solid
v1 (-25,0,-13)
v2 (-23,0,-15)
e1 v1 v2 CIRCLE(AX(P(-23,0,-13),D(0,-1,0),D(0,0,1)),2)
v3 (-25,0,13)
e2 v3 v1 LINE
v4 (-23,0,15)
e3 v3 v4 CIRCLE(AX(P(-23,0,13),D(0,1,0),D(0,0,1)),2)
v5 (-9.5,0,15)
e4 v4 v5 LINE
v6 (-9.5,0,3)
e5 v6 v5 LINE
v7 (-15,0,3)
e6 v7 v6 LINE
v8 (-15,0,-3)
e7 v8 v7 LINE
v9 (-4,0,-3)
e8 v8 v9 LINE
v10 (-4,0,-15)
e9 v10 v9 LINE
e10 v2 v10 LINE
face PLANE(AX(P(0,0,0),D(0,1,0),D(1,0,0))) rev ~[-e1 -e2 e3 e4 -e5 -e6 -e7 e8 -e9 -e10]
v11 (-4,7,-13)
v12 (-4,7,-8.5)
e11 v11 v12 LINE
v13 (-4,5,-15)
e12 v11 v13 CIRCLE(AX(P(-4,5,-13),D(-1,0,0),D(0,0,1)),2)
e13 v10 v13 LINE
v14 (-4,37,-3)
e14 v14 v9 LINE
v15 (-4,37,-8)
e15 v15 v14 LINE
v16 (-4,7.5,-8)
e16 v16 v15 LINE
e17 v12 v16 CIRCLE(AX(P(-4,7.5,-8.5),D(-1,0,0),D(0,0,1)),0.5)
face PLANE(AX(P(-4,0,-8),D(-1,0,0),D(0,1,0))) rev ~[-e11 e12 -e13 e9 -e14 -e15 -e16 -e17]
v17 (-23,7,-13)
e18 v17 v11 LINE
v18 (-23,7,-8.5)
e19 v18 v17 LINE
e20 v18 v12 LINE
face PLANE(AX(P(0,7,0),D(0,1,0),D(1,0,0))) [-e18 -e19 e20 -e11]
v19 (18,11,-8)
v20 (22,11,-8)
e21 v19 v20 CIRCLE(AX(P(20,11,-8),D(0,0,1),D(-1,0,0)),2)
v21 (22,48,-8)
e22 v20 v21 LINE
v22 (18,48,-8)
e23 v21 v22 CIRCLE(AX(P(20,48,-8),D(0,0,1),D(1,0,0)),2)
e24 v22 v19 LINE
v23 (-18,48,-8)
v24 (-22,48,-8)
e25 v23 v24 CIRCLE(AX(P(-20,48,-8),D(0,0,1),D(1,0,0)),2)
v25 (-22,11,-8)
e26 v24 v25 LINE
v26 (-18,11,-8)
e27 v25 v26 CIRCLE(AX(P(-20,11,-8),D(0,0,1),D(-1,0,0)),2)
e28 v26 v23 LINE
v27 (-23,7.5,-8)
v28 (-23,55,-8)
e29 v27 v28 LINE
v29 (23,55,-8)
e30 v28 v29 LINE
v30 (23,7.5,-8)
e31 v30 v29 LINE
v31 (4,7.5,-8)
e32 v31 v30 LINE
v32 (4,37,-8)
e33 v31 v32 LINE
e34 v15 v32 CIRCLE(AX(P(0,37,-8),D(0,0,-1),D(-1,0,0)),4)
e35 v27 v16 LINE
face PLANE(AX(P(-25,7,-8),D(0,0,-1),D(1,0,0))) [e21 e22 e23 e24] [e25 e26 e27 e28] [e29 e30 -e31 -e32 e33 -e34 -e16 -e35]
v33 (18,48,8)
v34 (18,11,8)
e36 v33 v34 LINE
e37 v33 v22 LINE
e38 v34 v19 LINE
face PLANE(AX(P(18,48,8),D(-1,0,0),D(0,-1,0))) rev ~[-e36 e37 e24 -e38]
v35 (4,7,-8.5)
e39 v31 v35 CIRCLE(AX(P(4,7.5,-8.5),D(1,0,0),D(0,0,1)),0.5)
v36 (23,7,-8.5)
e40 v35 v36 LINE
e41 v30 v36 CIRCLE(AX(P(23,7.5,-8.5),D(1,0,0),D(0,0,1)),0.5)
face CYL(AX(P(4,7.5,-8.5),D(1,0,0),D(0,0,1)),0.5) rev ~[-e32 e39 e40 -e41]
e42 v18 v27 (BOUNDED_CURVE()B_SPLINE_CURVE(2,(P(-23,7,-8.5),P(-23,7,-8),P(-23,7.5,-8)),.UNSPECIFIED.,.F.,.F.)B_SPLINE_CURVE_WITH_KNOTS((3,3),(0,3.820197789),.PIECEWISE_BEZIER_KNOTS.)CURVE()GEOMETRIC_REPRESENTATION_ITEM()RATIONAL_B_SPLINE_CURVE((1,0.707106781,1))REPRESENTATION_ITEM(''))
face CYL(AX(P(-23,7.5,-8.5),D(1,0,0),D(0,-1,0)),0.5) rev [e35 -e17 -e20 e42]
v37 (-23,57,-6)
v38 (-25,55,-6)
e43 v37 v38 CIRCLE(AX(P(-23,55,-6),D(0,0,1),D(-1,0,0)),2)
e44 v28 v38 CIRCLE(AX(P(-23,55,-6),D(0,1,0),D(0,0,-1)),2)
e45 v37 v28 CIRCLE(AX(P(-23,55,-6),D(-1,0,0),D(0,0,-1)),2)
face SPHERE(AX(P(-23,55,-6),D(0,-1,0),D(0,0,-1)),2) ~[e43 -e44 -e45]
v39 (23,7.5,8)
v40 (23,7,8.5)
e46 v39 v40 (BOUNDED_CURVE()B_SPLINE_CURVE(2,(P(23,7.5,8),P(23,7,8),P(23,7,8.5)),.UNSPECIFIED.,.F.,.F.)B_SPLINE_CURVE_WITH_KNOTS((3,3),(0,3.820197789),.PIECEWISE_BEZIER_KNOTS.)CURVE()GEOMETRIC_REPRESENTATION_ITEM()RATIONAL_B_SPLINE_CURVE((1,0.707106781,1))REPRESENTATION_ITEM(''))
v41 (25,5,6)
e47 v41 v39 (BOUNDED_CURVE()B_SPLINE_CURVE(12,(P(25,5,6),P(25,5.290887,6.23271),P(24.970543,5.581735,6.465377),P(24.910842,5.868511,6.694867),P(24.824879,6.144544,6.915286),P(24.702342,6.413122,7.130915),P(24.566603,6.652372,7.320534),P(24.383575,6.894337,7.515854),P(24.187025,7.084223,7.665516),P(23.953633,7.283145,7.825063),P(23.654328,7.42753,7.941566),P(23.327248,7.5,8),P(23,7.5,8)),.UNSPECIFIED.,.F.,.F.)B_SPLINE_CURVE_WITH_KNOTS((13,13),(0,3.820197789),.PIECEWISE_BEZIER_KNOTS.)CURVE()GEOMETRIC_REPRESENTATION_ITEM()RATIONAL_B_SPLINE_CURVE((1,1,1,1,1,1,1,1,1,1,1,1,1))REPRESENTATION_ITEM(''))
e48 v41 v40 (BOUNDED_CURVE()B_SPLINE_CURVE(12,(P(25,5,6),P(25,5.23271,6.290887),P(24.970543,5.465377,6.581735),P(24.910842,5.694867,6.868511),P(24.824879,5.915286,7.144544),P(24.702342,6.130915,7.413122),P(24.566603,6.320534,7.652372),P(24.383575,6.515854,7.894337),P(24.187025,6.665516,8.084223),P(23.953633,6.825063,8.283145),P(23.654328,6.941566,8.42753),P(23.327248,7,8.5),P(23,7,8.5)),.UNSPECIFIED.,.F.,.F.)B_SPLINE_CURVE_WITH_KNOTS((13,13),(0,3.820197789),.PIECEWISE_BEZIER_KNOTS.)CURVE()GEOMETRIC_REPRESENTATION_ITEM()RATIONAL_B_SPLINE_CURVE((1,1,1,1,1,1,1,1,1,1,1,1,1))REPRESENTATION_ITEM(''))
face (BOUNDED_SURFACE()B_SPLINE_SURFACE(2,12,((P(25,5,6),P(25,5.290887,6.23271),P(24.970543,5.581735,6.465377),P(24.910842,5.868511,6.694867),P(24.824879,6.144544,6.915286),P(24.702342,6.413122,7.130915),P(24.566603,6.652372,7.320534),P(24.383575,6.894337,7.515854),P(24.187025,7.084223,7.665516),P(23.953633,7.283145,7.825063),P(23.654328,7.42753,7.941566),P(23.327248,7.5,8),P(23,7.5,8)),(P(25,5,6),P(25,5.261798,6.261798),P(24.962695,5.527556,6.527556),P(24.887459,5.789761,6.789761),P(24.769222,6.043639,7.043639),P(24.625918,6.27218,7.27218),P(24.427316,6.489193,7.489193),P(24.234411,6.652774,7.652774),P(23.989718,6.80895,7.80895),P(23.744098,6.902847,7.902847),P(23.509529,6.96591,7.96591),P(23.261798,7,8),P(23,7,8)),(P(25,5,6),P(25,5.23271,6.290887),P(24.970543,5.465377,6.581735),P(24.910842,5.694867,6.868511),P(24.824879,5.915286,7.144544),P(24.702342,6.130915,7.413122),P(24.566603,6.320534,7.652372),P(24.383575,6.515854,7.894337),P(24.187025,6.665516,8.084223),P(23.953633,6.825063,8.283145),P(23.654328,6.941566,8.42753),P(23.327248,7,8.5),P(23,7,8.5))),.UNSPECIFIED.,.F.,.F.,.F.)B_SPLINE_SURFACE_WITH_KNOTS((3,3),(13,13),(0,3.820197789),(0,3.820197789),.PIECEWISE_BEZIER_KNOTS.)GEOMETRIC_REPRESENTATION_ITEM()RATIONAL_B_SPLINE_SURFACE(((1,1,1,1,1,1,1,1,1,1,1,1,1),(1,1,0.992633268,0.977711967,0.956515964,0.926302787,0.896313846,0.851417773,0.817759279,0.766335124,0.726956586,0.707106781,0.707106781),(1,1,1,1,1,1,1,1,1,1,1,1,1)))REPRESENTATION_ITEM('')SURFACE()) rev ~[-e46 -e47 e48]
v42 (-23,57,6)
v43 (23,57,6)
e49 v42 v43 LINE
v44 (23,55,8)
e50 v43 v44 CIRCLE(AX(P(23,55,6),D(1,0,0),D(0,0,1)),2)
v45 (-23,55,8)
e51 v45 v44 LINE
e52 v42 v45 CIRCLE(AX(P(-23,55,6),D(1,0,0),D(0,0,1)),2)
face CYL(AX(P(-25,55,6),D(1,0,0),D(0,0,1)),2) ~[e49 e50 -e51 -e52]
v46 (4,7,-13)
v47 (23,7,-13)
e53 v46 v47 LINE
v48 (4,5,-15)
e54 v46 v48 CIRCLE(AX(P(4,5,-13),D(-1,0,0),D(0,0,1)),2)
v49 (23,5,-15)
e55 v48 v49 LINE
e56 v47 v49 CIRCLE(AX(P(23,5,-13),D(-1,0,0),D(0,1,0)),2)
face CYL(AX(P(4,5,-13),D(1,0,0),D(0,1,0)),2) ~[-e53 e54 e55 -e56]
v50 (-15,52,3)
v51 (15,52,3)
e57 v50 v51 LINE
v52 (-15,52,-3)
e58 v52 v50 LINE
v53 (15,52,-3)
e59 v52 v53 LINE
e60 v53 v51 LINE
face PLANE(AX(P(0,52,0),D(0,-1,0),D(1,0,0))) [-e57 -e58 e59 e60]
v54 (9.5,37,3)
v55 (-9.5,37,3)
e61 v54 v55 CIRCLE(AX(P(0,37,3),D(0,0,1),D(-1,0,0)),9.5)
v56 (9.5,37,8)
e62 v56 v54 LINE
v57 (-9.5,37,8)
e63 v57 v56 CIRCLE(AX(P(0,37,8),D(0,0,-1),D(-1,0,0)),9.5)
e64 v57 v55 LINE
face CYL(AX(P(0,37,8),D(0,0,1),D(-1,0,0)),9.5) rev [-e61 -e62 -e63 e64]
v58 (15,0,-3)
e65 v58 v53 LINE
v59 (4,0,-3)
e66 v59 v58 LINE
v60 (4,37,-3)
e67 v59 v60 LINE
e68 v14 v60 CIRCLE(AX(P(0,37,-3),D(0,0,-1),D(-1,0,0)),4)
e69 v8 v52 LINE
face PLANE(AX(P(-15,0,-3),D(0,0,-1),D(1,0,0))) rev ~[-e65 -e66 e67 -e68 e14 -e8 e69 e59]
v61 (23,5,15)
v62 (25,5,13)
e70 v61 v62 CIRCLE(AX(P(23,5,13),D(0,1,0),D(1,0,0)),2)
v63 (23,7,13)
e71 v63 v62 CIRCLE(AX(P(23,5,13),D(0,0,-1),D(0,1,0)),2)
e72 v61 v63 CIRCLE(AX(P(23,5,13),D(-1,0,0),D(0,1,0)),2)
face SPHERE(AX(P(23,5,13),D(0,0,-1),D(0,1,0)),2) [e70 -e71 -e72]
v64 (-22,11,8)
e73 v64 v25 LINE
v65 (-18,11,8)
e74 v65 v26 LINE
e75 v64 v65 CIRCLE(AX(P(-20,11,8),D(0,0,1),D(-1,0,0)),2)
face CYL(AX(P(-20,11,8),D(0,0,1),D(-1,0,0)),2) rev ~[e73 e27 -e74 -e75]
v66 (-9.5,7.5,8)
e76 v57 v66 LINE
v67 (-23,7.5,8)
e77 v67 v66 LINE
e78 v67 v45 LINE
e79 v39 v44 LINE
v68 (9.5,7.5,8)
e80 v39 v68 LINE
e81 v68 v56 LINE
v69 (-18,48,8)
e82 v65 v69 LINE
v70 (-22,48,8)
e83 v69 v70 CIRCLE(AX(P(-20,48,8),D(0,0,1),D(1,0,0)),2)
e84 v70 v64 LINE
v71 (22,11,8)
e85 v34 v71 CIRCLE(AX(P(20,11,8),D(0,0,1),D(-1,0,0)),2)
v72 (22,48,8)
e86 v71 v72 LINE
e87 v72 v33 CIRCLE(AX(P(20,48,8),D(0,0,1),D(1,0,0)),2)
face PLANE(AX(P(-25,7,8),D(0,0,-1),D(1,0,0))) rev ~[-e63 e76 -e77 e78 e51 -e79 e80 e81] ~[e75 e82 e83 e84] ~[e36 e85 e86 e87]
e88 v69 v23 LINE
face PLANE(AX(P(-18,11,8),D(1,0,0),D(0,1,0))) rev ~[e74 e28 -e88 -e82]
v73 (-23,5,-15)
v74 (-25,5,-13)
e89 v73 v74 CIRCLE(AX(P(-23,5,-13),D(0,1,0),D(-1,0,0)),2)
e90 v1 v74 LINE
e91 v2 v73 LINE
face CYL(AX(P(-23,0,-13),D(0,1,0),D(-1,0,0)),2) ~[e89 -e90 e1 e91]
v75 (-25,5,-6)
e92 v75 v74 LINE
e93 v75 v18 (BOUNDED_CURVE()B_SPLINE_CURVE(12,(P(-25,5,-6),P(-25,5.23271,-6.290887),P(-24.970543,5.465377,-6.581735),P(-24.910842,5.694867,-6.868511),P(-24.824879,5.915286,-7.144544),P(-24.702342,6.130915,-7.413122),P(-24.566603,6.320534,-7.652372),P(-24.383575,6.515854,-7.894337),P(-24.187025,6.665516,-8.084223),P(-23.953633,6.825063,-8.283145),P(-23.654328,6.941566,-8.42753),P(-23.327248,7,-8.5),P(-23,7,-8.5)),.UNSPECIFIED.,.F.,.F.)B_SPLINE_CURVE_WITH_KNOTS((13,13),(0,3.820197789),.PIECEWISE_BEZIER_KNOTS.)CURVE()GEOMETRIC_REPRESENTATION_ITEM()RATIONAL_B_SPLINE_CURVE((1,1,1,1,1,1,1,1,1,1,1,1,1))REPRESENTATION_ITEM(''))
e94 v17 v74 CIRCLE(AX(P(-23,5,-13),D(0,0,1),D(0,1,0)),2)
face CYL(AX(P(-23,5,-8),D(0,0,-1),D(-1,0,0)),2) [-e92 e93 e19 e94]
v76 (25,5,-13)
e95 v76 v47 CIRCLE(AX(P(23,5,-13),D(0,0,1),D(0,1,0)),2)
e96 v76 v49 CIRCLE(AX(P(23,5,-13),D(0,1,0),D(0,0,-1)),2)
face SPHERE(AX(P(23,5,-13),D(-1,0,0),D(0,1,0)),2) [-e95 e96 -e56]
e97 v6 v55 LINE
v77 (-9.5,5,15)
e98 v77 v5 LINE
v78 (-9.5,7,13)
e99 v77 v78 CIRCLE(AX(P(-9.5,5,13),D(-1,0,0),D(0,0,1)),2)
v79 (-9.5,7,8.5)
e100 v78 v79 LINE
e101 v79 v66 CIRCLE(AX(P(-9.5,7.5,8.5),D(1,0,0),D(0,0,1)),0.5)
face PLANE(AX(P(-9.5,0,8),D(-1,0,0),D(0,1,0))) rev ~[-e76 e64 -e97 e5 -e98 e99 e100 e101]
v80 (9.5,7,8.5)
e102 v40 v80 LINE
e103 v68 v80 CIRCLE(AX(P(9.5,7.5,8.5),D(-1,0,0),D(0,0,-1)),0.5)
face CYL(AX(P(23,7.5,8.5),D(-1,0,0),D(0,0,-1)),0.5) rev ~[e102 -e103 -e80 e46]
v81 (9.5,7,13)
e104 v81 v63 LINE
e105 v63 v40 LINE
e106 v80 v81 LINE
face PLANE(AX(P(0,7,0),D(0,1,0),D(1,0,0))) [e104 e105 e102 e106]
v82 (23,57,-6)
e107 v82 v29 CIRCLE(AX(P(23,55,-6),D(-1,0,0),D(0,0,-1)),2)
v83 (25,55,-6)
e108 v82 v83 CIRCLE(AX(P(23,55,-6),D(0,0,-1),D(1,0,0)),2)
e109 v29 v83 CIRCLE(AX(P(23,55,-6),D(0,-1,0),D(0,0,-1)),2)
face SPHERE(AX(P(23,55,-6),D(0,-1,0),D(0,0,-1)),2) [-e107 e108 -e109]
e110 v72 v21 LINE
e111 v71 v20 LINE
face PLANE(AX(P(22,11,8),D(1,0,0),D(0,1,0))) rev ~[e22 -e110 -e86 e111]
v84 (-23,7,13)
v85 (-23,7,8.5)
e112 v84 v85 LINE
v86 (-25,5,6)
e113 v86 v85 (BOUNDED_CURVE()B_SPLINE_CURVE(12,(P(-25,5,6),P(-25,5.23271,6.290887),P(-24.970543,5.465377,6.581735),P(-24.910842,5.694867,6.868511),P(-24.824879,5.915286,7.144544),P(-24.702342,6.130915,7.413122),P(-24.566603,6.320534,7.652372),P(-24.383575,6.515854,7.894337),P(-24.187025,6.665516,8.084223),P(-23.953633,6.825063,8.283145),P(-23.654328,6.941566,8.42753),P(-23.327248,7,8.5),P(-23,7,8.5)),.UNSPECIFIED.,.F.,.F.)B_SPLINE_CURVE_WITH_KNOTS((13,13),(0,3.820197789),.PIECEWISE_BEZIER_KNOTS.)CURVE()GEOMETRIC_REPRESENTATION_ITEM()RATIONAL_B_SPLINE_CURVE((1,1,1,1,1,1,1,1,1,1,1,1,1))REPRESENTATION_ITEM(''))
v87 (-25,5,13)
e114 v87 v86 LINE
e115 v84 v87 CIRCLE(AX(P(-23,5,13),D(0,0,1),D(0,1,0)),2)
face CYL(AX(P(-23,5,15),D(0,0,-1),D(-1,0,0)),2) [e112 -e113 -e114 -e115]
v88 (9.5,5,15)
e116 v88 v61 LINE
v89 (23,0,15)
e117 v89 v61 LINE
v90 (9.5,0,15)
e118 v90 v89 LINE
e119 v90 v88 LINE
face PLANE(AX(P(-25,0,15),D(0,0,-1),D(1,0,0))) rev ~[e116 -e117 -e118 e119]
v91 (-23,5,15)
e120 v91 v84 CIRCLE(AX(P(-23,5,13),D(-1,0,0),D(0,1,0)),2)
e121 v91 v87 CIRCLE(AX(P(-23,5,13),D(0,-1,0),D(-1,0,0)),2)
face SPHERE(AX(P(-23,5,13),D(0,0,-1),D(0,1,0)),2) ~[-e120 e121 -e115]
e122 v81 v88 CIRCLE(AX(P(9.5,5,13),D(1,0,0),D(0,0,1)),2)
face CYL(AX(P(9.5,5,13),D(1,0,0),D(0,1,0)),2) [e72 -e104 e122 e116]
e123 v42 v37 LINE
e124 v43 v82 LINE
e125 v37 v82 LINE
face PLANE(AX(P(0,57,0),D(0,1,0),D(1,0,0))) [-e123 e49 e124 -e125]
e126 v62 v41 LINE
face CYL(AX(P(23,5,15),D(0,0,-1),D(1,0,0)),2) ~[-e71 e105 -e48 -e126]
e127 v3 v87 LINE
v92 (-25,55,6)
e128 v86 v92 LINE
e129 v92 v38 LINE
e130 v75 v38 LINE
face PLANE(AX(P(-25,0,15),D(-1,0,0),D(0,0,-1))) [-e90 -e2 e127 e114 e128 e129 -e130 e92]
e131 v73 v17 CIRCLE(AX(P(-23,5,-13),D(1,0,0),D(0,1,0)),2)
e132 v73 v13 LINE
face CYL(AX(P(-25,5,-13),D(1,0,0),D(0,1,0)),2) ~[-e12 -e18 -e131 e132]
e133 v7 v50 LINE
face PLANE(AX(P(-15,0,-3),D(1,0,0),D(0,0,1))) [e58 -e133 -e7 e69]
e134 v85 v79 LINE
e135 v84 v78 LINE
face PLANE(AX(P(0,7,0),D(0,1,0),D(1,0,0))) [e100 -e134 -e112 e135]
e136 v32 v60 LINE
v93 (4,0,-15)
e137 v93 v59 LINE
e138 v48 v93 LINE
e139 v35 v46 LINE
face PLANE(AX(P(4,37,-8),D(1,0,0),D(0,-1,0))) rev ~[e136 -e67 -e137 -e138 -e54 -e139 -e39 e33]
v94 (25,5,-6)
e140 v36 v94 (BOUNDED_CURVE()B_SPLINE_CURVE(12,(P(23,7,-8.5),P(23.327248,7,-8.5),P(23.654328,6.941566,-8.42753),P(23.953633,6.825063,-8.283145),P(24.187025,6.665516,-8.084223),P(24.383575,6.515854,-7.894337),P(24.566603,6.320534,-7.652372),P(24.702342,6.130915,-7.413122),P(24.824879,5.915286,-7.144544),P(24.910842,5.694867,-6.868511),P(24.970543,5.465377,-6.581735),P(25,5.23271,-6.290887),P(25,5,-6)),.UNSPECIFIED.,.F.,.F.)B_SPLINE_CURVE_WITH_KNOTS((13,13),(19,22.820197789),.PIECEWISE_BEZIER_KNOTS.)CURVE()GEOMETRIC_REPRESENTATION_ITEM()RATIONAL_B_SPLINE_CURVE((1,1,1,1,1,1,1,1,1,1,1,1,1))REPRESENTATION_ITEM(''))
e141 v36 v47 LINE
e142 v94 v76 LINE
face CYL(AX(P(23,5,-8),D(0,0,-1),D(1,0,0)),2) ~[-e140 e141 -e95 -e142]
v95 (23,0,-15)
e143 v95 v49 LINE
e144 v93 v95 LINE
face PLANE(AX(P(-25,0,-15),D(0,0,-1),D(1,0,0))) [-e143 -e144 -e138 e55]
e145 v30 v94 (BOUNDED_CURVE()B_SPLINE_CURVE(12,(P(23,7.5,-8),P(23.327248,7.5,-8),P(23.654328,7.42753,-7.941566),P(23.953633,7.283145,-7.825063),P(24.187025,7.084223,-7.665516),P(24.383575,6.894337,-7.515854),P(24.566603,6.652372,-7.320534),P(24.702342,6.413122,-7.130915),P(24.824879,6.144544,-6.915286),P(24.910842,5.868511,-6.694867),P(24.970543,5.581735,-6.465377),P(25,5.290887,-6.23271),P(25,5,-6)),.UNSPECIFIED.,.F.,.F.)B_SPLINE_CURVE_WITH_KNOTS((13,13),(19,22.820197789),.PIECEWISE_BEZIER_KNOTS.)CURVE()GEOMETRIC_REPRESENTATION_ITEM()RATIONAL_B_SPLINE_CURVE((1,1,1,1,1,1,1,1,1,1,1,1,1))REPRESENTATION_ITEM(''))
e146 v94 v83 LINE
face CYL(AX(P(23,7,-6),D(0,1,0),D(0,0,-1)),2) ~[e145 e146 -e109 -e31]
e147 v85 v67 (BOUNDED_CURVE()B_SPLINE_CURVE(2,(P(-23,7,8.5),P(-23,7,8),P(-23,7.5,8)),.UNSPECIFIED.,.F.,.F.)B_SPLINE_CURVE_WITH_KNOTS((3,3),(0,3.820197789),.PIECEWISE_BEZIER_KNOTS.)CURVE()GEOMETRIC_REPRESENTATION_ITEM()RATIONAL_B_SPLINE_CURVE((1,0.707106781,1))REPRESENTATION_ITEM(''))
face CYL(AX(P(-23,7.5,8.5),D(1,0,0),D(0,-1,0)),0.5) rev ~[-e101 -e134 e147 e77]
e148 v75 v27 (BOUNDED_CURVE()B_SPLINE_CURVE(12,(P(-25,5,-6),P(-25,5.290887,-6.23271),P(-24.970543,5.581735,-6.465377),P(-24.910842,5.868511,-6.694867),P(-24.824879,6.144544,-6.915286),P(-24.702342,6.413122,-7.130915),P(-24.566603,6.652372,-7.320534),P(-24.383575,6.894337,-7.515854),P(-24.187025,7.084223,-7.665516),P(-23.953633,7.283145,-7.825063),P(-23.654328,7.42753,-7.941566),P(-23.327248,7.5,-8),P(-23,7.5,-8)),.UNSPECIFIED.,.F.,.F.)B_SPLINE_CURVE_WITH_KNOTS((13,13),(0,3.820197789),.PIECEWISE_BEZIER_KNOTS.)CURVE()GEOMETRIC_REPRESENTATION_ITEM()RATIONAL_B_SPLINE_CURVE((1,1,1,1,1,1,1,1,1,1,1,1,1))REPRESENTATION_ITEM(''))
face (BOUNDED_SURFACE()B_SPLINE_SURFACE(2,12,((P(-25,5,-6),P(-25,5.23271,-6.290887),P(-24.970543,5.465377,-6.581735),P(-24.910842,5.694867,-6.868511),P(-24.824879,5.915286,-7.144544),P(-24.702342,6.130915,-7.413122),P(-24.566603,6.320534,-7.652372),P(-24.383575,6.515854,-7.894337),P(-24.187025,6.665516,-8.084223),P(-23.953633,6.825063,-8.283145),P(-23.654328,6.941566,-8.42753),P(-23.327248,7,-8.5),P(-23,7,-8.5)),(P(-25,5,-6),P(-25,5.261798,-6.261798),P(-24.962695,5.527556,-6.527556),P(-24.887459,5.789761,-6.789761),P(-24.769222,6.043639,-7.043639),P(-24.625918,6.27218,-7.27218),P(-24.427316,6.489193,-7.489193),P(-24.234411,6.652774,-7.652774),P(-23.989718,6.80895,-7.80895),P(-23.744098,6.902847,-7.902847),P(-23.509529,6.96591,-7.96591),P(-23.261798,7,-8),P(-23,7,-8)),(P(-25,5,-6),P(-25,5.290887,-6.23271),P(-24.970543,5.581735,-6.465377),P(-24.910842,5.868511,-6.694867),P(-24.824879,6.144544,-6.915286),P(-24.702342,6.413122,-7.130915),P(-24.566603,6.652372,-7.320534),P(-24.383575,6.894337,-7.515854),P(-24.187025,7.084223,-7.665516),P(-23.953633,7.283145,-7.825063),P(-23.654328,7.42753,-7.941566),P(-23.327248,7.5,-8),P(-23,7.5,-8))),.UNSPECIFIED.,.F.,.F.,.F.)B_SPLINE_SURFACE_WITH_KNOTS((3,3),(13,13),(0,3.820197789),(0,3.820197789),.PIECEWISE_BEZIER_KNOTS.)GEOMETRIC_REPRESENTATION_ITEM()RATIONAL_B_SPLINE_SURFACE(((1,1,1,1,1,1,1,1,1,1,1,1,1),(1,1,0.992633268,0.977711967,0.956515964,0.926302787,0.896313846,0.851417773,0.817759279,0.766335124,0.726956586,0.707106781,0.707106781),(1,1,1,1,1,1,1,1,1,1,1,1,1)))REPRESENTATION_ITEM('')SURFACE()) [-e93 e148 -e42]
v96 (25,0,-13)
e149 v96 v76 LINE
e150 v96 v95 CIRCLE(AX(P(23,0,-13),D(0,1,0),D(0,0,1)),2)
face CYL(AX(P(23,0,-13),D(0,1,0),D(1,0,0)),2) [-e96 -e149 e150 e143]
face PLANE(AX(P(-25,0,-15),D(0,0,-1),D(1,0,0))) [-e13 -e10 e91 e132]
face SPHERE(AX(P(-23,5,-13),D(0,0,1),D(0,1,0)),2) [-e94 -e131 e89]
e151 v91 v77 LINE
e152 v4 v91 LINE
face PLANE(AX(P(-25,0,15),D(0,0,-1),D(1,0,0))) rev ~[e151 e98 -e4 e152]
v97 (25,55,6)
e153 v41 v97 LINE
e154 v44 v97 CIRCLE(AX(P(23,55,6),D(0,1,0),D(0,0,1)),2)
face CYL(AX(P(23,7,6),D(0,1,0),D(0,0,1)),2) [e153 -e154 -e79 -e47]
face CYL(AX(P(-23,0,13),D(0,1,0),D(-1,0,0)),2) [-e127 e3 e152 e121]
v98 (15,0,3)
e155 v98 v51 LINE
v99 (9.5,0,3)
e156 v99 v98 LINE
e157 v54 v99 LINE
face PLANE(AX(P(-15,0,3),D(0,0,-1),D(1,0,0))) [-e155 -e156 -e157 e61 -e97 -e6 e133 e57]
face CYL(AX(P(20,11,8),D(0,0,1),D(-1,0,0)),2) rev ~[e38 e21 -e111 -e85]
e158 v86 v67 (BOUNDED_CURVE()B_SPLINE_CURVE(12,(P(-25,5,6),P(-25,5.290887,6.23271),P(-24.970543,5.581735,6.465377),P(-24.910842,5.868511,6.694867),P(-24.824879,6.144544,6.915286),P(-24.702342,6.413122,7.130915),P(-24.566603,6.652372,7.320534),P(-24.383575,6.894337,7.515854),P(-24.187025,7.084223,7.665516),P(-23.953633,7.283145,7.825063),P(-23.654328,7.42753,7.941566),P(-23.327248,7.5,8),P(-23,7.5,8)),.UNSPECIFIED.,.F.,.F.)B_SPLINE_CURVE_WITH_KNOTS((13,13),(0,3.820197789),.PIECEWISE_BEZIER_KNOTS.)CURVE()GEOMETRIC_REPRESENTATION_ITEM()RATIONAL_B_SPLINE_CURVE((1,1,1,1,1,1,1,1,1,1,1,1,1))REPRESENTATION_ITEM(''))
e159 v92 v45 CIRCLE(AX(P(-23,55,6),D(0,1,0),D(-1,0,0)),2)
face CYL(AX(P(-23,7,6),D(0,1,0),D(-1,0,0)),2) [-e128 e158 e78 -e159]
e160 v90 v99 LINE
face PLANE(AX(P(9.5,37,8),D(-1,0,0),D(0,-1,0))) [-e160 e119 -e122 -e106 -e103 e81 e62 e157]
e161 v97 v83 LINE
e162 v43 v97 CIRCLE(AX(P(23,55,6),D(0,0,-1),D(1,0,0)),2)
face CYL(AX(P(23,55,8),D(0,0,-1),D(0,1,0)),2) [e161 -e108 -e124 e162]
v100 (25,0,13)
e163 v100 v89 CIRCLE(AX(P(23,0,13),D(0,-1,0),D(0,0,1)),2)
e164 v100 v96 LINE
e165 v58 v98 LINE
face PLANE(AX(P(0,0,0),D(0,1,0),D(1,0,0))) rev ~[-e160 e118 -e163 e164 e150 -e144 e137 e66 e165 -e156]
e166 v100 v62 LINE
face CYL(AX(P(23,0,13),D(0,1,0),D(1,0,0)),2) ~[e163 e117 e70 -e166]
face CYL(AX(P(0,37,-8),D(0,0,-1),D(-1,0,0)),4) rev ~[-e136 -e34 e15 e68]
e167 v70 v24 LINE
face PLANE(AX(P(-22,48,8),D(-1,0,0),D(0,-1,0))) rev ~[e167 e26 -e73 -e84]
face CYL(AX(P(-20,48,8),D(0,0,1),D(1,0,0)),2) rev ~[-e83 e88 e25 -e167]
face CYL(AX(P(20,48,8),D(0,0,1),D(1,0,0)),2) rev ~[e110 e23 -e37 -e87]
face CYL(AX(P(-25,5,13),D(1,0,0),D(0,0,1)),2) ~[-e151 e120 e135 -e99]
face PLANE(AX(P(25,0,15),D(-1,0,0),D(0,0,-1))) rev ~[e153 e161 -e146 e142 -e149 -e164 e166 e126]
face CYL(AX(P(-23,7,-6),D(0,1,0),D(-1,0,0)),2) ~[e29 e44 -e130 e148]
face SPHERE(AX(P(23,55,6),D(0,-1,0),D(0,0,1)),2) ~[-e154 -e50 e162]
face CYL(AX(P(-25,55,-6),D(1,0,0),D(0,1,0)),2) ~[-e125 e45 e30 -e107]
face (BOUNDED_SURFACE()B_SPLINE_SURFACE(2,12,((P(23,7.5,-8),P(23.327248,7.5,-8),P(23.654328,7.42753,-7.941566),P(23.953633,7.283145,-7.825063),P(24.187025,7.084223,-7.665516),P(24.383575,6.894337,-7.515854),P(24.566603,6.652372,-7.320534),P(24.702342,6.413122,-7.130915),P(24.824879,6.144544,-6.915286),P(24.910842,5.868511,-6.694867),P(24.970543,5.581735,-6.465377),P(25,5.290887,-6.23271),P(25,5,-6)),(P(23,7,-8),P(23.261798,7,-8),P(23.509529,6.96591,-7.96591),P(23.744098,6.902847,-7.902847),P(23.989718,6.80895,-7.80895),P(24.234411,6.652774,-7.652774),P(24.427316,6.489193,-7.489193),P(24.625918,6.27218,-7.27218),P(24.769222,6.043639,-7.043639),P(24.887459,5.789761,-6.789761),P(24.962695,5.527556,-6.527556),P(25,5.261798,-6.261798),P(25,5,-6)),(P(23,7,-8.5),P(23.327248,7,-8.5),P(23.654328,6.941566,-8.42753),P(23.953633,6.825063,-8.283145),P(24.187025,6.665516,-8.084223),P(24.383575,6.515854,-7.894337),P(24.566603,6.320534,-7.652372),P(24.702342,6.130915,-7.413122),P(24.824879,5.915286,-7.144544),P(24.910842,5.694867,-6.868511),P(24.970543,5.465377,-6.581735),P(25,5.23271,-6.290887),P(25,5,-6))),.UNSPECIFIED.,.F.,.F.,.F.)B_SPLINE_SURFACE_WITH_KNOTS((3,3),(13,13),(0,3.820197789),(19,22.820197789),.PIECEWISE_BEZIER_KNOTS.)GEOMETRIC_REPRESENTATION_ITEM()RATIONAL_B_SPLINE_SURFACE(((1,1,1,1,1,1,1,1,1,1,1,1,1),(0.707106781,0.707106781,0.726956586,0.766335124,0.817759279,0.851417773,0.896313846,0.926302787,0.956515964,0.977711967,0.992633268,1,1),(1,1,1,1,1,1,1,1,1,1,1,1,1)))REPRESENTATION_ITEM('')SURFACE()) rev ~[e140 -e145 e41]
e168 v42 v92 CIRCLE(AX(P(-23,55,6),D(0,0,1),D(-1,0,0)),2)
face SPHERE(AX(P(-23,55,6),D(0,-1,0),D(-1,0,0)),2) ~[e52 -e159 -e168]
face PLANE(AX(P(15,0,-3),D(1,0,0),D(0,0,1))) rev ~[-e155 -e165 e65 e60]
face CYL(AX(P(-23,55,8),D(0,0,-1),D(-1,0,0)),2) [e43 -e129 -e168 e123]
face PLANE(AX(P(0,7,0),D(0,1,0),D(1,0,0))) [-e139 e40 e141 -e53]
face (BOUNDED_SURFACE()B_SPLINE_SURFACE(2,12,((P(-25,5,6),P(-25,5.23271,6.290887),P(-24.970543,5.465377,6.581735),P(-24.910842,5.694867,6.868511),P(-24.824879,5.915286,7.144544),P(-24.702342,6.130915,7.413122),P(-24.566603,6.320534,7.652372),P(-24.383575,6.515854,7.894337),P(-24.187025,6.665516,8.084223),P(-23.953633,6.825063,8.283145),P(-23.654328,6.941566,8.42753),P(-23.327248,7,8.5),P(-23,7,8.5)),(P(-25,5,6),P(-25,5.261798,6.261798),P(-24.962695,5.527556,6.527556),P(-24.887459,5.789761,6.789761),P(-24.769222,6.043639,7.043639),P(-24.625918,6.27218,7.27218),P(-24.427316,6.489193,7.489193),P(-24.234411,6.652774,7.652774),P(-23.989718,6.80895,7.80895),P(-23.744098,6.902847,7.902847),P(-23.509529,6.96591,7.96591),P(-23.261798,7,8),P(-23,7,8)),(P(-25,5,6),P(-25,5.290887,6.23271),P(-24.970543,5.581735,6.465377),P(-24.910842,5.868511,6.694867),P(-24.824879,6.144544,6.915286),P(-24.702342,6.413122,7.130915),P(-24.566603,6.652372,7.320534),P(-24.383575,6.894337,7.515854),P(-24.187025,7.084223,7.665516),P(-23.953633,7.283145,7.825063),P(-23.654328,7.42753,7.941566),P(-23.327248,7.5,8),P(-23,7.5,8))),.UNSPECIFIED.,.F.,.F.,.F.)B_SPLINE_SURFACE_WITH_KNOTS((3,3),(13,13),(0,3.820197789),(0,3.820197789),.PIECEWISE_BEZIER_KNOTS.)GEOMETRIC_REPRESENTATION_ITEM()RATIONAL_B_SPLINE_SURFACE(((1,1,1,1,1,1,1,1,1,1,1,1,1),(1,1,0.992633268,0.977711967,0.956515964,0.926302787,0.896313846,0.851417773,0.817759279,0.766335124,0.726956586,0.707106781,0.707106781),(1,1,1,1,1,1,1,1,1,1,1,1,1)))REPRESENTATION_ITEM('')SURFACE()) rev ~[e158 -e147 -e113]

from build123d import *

# Parameters (mm, degrees)
SKETCH2_W                      = 50
SKETCH2_H                      = 30
BOSS_EXTRUDE1_DEPTH            = 7
SKETCH3_W                      = 50
SKETCH3_H                      = 16
BOSS_EXTRUDE2_DEPTH            = 50
SKETCH5_W                      = 30
SKETCH5_H                      = 6
CUT_EXTRUDE1_DEPTH             = 52
CUT_EXTRUDE3_REACH             = 68.355
CUT_EXTRUDE3_DIRECTION_2_REACH = 68.355
CUT_EXTRUDE4_REACH             = 68.355
CUT_EXTRUDE4_DIRECTION_2_REACH = 68.355
CUT_EXTRUDE5_REACH             = 68.355
FILLET1_R                      = 2
FILLET2_R                      = 0.5


with BuildPart() as part:
    # Sketch2 → Boss-Extrude1 (new body)
    with BuildSketch(Plane(origin=(0, 0, 0), x_dir=(1, 0, 0), z_dir=(0, 1, 0))):
        Rectangle(SKETCH2_W, SKETCH2_H)
    extrude(amount=BOSS_EXTRUDE1_DEPTH)

    # Sketch3 → Boss-Extrude2 (add)
    with BuildSketch(Plane(origin=(0, 7, 0), x_dir=(1, 0, 0), z_dir=(0, 1, 0))):
        Rectangle(SKETCH3_W, SKETCH3_H)
    extrude(amount=BOSS_EXTRUDE2_DEPTH)

    # Sketch5 → Cut-Extrude1 (cut)
    with BuildSketch(Plane.XZ):
        Rectangle(SKETCH5_W, SKETCH5_H)
    extrude(amount=-CUT_EXTRUDE1_DEPTH, mode=Mode.SUBTRACT)

    # Sketch4 → Cut-Extrude3 (cut, up to next)
    with BuildSketch(Plane.XY.offset(8), mode=Mode.PRIVATE) as cut_extrude3_sk1:
        with BuildLine():
            Line((-9.5, 15), (-9.5, 37))
            ThreePointArc((-9.5, 37), (0, 46.5), (9.5, 37))
            Line((9.5, 37), (9.5, 15))
            Line((9.5, 15), (9.5, 0))
            Line((9.5, 0), (-9.5, 0))
            Line((-9.5, 0), (-9.5, 15))
        make_face()
    cut_extrude3_tool1 = extrude(cut_extrude3_sk1.sketch, amount=-CUT_EXTRUDE3_REACH, mode=Mode.PRIVATE) & part.part
    add(cut_extrude3_tool1.solids().sort_by_distance((0, 22.281201, 8))[0], mode=Mode.SUBTRACT)

    # Sketch4 → Cut-Extrude3 direction 2 (cut, up to next)
    with BuildSketch(Plane.XY.offset(8), mode=Mode.PRIVATE) as cut_extrude3_direction_2_sk1:
        with BuildLine():
            Line((-9.5, 15), (-9.5, 37))
            ThreePointArc((-9.5, 37), (0, 46.5), (9.5, 37))
            Line((9.5, 37), (9.5, 15))
            Line((9.5, 15), (9.5, 0))
            Line((9.5, 0), (-9.5, 0))
            Line((-9.5, 0), (-9.5, 15))
        make_face()
    cut_extrude3_direction_2_tool1 = extrude(cut_extrude3_direction_2_sk1.sketch, amount=CUT_EXTRUDE3_DIRECTION_2_REACH, mode=Mode.PRIVATE) & part.part
    add(cut_extrude3_direction_2_tool1.solids().sort_by_distance((0, 22.281201, 8))[0], mode=Mode.SUBTRACT)

    # Sketch6 → Cut-Extrude4 (cut, up to next)
    with BuildSketch(Plane(origin=(0, 0, -8), x_dir=(-1, 0, 0), z_dir=(0, 0, -1)), mode=Mode.PRIVATE) as cut_extrude4_sk1:
        with BuildLine():
            Line((-4, 37), (-4, 0))
            Line((-4, 0), (4, 0))
            Line((4, 0), (4, 37))
            ThreePointArc((4, 37), (0, 41), (-4, 37))
        make_face()
    cut_extrude4_tool1 = extrude(cut_extrude4_sk1.sketch, amount=-CUT_EXTRUDE4_REACH, mode=Mode.PRIVATE) & part.part
    add(cut_extrude4_tool1.solids().sort_by_distance((0, 20.080724, -8))[0], mode=Mode.SUBTRACT)

    # Sketch6 → Cut-Extrude4 direction 2 (cut, up to next)
    with BuildSketch(Plane(origin=(0, 0, -8), x_dir=(-1, 0, 0), z_dir=(0, 0, -1)), mode=Mode.PRIVATE) as cut_extrude4_direction_2_sk1:
        with BuildLine():
            Line((-4, 37), (-4, 0))
            Line((-4, 0), (4, 0))
            Line((4, 0), (4, 37))
            ThreePointArc((4, 37), (0, 41), (-4, 37))
        make_face()
    cut_extrude4_direction_2_tool1 = extrude(cut_extrude4_direction_2_sk1.sketch, amount=CUT_EXTRUDE4_DIRECTION_2_REACH, mode=Mode.PRIVATE) & part.part
    add(cut_extrude4_direction_2_tool1.solids().sort_by_distance((0, 20.080724, -8))[0], mode=Mode.SUBTRACT)

    # Sketch8 → Cut-Extrude5 (cut, up to next)
    with BuildSketch(Plane.XY.offset(8), mode=Mode.PRIVATE) as cut_extrude5_sk1:
        with BuildLine():
            Line((-22, 48), (-22, 11))
            ThreePointArc((-22, 11), (-20, 9), (-18, 11))
            Line((-18, 11), (-18, 48))
            ThreePointArc((-18, 48), (-20, 50), (-22, 48))
        make_face()
    cut_extrude5_tool1 = extrude(cut_extrude5_sk1.sketch, amount=-CUT_EXTRUDE5_REACH, mode=Mode.PRIVATE) & part.part
    # Sketch8 → Cut-Extrude5 (cut, up to next)
    with BuildSketch(Plane.XY.offset(8), mode=Mode.PRIVATE) as cut_extrude5_sk2:
        with BuildLine():
            Line((18, 48), (18, 11))
            ThreePointArc((18, 11), (20, 9), (22, 11))
            Line((22, 11), (22, 48))
            ThreePointArc((22, 48), (20, 50), (18, 48))
        make_face()
    cut_extrude5_tool2 = extrude(cut_extrude5_sk2.sketch, amount=-CUT_EXTRUDE5_REACH, mode=Mode.PRIVATE) & part.part
    add(cut_extrude5_tool1.solids().sort_by_distance((-20, 29.5, 8))[0], mode=Mode.SUBTRACT)
    add(cut_extrude5_tool2.solids().sort_by_distance((20, 29.5, 8))[0], mode=Mode.SUBTRACT)

    # Fillet1
    fillet1_edges = [part.edges().sort_by_distance(p)[0] for p in [
        (25, 7, 11.5),
        (14.5, 7, -15),
        (-25, 7, 11.5),
        (25, 7, -11.5),
        (25, 32, -8),
        (-25, 32, -8),
        (-25, 32, 8),
        (25, 32, 8),
        (0, 57, -8),
        (-25, 57, 0),
        (0, 57, 8),
        (25, 57, 0),
        (-25, 7, -11.5),
        (17.25, 7, 15),
        (-14.5, 7, -15),
        (-17.25, 7, 15),
        (-25, 3.5, -15),
        (25, 3.5, -15),
        (25, 3.5, 15),
        (-25, 3.5, 15),
    ]]
    fillet(fillet1_edges, radius=FILLET1_R)

    # Fillet2
    fillet2_edges = [part.edges().sort_by_distance(p)[0] for p in [
        (-16.25, 7, 8),
        (13.5, 7, -8),
        (-24.526592034, 6.292097815, 7.292097815),
        (-24.526592034, 6.292097815, -7.292097815),
        (24.526592034, 6.292097815, 7.292097815),
        (24.526592034, 6.292097815, -7.292097815),
        (16.25, 7, 8),
        (-13.5, 7, -8),
    ]]
    fillet(fillet2_edges, radius=FILLET2_R)


solid = part.part
